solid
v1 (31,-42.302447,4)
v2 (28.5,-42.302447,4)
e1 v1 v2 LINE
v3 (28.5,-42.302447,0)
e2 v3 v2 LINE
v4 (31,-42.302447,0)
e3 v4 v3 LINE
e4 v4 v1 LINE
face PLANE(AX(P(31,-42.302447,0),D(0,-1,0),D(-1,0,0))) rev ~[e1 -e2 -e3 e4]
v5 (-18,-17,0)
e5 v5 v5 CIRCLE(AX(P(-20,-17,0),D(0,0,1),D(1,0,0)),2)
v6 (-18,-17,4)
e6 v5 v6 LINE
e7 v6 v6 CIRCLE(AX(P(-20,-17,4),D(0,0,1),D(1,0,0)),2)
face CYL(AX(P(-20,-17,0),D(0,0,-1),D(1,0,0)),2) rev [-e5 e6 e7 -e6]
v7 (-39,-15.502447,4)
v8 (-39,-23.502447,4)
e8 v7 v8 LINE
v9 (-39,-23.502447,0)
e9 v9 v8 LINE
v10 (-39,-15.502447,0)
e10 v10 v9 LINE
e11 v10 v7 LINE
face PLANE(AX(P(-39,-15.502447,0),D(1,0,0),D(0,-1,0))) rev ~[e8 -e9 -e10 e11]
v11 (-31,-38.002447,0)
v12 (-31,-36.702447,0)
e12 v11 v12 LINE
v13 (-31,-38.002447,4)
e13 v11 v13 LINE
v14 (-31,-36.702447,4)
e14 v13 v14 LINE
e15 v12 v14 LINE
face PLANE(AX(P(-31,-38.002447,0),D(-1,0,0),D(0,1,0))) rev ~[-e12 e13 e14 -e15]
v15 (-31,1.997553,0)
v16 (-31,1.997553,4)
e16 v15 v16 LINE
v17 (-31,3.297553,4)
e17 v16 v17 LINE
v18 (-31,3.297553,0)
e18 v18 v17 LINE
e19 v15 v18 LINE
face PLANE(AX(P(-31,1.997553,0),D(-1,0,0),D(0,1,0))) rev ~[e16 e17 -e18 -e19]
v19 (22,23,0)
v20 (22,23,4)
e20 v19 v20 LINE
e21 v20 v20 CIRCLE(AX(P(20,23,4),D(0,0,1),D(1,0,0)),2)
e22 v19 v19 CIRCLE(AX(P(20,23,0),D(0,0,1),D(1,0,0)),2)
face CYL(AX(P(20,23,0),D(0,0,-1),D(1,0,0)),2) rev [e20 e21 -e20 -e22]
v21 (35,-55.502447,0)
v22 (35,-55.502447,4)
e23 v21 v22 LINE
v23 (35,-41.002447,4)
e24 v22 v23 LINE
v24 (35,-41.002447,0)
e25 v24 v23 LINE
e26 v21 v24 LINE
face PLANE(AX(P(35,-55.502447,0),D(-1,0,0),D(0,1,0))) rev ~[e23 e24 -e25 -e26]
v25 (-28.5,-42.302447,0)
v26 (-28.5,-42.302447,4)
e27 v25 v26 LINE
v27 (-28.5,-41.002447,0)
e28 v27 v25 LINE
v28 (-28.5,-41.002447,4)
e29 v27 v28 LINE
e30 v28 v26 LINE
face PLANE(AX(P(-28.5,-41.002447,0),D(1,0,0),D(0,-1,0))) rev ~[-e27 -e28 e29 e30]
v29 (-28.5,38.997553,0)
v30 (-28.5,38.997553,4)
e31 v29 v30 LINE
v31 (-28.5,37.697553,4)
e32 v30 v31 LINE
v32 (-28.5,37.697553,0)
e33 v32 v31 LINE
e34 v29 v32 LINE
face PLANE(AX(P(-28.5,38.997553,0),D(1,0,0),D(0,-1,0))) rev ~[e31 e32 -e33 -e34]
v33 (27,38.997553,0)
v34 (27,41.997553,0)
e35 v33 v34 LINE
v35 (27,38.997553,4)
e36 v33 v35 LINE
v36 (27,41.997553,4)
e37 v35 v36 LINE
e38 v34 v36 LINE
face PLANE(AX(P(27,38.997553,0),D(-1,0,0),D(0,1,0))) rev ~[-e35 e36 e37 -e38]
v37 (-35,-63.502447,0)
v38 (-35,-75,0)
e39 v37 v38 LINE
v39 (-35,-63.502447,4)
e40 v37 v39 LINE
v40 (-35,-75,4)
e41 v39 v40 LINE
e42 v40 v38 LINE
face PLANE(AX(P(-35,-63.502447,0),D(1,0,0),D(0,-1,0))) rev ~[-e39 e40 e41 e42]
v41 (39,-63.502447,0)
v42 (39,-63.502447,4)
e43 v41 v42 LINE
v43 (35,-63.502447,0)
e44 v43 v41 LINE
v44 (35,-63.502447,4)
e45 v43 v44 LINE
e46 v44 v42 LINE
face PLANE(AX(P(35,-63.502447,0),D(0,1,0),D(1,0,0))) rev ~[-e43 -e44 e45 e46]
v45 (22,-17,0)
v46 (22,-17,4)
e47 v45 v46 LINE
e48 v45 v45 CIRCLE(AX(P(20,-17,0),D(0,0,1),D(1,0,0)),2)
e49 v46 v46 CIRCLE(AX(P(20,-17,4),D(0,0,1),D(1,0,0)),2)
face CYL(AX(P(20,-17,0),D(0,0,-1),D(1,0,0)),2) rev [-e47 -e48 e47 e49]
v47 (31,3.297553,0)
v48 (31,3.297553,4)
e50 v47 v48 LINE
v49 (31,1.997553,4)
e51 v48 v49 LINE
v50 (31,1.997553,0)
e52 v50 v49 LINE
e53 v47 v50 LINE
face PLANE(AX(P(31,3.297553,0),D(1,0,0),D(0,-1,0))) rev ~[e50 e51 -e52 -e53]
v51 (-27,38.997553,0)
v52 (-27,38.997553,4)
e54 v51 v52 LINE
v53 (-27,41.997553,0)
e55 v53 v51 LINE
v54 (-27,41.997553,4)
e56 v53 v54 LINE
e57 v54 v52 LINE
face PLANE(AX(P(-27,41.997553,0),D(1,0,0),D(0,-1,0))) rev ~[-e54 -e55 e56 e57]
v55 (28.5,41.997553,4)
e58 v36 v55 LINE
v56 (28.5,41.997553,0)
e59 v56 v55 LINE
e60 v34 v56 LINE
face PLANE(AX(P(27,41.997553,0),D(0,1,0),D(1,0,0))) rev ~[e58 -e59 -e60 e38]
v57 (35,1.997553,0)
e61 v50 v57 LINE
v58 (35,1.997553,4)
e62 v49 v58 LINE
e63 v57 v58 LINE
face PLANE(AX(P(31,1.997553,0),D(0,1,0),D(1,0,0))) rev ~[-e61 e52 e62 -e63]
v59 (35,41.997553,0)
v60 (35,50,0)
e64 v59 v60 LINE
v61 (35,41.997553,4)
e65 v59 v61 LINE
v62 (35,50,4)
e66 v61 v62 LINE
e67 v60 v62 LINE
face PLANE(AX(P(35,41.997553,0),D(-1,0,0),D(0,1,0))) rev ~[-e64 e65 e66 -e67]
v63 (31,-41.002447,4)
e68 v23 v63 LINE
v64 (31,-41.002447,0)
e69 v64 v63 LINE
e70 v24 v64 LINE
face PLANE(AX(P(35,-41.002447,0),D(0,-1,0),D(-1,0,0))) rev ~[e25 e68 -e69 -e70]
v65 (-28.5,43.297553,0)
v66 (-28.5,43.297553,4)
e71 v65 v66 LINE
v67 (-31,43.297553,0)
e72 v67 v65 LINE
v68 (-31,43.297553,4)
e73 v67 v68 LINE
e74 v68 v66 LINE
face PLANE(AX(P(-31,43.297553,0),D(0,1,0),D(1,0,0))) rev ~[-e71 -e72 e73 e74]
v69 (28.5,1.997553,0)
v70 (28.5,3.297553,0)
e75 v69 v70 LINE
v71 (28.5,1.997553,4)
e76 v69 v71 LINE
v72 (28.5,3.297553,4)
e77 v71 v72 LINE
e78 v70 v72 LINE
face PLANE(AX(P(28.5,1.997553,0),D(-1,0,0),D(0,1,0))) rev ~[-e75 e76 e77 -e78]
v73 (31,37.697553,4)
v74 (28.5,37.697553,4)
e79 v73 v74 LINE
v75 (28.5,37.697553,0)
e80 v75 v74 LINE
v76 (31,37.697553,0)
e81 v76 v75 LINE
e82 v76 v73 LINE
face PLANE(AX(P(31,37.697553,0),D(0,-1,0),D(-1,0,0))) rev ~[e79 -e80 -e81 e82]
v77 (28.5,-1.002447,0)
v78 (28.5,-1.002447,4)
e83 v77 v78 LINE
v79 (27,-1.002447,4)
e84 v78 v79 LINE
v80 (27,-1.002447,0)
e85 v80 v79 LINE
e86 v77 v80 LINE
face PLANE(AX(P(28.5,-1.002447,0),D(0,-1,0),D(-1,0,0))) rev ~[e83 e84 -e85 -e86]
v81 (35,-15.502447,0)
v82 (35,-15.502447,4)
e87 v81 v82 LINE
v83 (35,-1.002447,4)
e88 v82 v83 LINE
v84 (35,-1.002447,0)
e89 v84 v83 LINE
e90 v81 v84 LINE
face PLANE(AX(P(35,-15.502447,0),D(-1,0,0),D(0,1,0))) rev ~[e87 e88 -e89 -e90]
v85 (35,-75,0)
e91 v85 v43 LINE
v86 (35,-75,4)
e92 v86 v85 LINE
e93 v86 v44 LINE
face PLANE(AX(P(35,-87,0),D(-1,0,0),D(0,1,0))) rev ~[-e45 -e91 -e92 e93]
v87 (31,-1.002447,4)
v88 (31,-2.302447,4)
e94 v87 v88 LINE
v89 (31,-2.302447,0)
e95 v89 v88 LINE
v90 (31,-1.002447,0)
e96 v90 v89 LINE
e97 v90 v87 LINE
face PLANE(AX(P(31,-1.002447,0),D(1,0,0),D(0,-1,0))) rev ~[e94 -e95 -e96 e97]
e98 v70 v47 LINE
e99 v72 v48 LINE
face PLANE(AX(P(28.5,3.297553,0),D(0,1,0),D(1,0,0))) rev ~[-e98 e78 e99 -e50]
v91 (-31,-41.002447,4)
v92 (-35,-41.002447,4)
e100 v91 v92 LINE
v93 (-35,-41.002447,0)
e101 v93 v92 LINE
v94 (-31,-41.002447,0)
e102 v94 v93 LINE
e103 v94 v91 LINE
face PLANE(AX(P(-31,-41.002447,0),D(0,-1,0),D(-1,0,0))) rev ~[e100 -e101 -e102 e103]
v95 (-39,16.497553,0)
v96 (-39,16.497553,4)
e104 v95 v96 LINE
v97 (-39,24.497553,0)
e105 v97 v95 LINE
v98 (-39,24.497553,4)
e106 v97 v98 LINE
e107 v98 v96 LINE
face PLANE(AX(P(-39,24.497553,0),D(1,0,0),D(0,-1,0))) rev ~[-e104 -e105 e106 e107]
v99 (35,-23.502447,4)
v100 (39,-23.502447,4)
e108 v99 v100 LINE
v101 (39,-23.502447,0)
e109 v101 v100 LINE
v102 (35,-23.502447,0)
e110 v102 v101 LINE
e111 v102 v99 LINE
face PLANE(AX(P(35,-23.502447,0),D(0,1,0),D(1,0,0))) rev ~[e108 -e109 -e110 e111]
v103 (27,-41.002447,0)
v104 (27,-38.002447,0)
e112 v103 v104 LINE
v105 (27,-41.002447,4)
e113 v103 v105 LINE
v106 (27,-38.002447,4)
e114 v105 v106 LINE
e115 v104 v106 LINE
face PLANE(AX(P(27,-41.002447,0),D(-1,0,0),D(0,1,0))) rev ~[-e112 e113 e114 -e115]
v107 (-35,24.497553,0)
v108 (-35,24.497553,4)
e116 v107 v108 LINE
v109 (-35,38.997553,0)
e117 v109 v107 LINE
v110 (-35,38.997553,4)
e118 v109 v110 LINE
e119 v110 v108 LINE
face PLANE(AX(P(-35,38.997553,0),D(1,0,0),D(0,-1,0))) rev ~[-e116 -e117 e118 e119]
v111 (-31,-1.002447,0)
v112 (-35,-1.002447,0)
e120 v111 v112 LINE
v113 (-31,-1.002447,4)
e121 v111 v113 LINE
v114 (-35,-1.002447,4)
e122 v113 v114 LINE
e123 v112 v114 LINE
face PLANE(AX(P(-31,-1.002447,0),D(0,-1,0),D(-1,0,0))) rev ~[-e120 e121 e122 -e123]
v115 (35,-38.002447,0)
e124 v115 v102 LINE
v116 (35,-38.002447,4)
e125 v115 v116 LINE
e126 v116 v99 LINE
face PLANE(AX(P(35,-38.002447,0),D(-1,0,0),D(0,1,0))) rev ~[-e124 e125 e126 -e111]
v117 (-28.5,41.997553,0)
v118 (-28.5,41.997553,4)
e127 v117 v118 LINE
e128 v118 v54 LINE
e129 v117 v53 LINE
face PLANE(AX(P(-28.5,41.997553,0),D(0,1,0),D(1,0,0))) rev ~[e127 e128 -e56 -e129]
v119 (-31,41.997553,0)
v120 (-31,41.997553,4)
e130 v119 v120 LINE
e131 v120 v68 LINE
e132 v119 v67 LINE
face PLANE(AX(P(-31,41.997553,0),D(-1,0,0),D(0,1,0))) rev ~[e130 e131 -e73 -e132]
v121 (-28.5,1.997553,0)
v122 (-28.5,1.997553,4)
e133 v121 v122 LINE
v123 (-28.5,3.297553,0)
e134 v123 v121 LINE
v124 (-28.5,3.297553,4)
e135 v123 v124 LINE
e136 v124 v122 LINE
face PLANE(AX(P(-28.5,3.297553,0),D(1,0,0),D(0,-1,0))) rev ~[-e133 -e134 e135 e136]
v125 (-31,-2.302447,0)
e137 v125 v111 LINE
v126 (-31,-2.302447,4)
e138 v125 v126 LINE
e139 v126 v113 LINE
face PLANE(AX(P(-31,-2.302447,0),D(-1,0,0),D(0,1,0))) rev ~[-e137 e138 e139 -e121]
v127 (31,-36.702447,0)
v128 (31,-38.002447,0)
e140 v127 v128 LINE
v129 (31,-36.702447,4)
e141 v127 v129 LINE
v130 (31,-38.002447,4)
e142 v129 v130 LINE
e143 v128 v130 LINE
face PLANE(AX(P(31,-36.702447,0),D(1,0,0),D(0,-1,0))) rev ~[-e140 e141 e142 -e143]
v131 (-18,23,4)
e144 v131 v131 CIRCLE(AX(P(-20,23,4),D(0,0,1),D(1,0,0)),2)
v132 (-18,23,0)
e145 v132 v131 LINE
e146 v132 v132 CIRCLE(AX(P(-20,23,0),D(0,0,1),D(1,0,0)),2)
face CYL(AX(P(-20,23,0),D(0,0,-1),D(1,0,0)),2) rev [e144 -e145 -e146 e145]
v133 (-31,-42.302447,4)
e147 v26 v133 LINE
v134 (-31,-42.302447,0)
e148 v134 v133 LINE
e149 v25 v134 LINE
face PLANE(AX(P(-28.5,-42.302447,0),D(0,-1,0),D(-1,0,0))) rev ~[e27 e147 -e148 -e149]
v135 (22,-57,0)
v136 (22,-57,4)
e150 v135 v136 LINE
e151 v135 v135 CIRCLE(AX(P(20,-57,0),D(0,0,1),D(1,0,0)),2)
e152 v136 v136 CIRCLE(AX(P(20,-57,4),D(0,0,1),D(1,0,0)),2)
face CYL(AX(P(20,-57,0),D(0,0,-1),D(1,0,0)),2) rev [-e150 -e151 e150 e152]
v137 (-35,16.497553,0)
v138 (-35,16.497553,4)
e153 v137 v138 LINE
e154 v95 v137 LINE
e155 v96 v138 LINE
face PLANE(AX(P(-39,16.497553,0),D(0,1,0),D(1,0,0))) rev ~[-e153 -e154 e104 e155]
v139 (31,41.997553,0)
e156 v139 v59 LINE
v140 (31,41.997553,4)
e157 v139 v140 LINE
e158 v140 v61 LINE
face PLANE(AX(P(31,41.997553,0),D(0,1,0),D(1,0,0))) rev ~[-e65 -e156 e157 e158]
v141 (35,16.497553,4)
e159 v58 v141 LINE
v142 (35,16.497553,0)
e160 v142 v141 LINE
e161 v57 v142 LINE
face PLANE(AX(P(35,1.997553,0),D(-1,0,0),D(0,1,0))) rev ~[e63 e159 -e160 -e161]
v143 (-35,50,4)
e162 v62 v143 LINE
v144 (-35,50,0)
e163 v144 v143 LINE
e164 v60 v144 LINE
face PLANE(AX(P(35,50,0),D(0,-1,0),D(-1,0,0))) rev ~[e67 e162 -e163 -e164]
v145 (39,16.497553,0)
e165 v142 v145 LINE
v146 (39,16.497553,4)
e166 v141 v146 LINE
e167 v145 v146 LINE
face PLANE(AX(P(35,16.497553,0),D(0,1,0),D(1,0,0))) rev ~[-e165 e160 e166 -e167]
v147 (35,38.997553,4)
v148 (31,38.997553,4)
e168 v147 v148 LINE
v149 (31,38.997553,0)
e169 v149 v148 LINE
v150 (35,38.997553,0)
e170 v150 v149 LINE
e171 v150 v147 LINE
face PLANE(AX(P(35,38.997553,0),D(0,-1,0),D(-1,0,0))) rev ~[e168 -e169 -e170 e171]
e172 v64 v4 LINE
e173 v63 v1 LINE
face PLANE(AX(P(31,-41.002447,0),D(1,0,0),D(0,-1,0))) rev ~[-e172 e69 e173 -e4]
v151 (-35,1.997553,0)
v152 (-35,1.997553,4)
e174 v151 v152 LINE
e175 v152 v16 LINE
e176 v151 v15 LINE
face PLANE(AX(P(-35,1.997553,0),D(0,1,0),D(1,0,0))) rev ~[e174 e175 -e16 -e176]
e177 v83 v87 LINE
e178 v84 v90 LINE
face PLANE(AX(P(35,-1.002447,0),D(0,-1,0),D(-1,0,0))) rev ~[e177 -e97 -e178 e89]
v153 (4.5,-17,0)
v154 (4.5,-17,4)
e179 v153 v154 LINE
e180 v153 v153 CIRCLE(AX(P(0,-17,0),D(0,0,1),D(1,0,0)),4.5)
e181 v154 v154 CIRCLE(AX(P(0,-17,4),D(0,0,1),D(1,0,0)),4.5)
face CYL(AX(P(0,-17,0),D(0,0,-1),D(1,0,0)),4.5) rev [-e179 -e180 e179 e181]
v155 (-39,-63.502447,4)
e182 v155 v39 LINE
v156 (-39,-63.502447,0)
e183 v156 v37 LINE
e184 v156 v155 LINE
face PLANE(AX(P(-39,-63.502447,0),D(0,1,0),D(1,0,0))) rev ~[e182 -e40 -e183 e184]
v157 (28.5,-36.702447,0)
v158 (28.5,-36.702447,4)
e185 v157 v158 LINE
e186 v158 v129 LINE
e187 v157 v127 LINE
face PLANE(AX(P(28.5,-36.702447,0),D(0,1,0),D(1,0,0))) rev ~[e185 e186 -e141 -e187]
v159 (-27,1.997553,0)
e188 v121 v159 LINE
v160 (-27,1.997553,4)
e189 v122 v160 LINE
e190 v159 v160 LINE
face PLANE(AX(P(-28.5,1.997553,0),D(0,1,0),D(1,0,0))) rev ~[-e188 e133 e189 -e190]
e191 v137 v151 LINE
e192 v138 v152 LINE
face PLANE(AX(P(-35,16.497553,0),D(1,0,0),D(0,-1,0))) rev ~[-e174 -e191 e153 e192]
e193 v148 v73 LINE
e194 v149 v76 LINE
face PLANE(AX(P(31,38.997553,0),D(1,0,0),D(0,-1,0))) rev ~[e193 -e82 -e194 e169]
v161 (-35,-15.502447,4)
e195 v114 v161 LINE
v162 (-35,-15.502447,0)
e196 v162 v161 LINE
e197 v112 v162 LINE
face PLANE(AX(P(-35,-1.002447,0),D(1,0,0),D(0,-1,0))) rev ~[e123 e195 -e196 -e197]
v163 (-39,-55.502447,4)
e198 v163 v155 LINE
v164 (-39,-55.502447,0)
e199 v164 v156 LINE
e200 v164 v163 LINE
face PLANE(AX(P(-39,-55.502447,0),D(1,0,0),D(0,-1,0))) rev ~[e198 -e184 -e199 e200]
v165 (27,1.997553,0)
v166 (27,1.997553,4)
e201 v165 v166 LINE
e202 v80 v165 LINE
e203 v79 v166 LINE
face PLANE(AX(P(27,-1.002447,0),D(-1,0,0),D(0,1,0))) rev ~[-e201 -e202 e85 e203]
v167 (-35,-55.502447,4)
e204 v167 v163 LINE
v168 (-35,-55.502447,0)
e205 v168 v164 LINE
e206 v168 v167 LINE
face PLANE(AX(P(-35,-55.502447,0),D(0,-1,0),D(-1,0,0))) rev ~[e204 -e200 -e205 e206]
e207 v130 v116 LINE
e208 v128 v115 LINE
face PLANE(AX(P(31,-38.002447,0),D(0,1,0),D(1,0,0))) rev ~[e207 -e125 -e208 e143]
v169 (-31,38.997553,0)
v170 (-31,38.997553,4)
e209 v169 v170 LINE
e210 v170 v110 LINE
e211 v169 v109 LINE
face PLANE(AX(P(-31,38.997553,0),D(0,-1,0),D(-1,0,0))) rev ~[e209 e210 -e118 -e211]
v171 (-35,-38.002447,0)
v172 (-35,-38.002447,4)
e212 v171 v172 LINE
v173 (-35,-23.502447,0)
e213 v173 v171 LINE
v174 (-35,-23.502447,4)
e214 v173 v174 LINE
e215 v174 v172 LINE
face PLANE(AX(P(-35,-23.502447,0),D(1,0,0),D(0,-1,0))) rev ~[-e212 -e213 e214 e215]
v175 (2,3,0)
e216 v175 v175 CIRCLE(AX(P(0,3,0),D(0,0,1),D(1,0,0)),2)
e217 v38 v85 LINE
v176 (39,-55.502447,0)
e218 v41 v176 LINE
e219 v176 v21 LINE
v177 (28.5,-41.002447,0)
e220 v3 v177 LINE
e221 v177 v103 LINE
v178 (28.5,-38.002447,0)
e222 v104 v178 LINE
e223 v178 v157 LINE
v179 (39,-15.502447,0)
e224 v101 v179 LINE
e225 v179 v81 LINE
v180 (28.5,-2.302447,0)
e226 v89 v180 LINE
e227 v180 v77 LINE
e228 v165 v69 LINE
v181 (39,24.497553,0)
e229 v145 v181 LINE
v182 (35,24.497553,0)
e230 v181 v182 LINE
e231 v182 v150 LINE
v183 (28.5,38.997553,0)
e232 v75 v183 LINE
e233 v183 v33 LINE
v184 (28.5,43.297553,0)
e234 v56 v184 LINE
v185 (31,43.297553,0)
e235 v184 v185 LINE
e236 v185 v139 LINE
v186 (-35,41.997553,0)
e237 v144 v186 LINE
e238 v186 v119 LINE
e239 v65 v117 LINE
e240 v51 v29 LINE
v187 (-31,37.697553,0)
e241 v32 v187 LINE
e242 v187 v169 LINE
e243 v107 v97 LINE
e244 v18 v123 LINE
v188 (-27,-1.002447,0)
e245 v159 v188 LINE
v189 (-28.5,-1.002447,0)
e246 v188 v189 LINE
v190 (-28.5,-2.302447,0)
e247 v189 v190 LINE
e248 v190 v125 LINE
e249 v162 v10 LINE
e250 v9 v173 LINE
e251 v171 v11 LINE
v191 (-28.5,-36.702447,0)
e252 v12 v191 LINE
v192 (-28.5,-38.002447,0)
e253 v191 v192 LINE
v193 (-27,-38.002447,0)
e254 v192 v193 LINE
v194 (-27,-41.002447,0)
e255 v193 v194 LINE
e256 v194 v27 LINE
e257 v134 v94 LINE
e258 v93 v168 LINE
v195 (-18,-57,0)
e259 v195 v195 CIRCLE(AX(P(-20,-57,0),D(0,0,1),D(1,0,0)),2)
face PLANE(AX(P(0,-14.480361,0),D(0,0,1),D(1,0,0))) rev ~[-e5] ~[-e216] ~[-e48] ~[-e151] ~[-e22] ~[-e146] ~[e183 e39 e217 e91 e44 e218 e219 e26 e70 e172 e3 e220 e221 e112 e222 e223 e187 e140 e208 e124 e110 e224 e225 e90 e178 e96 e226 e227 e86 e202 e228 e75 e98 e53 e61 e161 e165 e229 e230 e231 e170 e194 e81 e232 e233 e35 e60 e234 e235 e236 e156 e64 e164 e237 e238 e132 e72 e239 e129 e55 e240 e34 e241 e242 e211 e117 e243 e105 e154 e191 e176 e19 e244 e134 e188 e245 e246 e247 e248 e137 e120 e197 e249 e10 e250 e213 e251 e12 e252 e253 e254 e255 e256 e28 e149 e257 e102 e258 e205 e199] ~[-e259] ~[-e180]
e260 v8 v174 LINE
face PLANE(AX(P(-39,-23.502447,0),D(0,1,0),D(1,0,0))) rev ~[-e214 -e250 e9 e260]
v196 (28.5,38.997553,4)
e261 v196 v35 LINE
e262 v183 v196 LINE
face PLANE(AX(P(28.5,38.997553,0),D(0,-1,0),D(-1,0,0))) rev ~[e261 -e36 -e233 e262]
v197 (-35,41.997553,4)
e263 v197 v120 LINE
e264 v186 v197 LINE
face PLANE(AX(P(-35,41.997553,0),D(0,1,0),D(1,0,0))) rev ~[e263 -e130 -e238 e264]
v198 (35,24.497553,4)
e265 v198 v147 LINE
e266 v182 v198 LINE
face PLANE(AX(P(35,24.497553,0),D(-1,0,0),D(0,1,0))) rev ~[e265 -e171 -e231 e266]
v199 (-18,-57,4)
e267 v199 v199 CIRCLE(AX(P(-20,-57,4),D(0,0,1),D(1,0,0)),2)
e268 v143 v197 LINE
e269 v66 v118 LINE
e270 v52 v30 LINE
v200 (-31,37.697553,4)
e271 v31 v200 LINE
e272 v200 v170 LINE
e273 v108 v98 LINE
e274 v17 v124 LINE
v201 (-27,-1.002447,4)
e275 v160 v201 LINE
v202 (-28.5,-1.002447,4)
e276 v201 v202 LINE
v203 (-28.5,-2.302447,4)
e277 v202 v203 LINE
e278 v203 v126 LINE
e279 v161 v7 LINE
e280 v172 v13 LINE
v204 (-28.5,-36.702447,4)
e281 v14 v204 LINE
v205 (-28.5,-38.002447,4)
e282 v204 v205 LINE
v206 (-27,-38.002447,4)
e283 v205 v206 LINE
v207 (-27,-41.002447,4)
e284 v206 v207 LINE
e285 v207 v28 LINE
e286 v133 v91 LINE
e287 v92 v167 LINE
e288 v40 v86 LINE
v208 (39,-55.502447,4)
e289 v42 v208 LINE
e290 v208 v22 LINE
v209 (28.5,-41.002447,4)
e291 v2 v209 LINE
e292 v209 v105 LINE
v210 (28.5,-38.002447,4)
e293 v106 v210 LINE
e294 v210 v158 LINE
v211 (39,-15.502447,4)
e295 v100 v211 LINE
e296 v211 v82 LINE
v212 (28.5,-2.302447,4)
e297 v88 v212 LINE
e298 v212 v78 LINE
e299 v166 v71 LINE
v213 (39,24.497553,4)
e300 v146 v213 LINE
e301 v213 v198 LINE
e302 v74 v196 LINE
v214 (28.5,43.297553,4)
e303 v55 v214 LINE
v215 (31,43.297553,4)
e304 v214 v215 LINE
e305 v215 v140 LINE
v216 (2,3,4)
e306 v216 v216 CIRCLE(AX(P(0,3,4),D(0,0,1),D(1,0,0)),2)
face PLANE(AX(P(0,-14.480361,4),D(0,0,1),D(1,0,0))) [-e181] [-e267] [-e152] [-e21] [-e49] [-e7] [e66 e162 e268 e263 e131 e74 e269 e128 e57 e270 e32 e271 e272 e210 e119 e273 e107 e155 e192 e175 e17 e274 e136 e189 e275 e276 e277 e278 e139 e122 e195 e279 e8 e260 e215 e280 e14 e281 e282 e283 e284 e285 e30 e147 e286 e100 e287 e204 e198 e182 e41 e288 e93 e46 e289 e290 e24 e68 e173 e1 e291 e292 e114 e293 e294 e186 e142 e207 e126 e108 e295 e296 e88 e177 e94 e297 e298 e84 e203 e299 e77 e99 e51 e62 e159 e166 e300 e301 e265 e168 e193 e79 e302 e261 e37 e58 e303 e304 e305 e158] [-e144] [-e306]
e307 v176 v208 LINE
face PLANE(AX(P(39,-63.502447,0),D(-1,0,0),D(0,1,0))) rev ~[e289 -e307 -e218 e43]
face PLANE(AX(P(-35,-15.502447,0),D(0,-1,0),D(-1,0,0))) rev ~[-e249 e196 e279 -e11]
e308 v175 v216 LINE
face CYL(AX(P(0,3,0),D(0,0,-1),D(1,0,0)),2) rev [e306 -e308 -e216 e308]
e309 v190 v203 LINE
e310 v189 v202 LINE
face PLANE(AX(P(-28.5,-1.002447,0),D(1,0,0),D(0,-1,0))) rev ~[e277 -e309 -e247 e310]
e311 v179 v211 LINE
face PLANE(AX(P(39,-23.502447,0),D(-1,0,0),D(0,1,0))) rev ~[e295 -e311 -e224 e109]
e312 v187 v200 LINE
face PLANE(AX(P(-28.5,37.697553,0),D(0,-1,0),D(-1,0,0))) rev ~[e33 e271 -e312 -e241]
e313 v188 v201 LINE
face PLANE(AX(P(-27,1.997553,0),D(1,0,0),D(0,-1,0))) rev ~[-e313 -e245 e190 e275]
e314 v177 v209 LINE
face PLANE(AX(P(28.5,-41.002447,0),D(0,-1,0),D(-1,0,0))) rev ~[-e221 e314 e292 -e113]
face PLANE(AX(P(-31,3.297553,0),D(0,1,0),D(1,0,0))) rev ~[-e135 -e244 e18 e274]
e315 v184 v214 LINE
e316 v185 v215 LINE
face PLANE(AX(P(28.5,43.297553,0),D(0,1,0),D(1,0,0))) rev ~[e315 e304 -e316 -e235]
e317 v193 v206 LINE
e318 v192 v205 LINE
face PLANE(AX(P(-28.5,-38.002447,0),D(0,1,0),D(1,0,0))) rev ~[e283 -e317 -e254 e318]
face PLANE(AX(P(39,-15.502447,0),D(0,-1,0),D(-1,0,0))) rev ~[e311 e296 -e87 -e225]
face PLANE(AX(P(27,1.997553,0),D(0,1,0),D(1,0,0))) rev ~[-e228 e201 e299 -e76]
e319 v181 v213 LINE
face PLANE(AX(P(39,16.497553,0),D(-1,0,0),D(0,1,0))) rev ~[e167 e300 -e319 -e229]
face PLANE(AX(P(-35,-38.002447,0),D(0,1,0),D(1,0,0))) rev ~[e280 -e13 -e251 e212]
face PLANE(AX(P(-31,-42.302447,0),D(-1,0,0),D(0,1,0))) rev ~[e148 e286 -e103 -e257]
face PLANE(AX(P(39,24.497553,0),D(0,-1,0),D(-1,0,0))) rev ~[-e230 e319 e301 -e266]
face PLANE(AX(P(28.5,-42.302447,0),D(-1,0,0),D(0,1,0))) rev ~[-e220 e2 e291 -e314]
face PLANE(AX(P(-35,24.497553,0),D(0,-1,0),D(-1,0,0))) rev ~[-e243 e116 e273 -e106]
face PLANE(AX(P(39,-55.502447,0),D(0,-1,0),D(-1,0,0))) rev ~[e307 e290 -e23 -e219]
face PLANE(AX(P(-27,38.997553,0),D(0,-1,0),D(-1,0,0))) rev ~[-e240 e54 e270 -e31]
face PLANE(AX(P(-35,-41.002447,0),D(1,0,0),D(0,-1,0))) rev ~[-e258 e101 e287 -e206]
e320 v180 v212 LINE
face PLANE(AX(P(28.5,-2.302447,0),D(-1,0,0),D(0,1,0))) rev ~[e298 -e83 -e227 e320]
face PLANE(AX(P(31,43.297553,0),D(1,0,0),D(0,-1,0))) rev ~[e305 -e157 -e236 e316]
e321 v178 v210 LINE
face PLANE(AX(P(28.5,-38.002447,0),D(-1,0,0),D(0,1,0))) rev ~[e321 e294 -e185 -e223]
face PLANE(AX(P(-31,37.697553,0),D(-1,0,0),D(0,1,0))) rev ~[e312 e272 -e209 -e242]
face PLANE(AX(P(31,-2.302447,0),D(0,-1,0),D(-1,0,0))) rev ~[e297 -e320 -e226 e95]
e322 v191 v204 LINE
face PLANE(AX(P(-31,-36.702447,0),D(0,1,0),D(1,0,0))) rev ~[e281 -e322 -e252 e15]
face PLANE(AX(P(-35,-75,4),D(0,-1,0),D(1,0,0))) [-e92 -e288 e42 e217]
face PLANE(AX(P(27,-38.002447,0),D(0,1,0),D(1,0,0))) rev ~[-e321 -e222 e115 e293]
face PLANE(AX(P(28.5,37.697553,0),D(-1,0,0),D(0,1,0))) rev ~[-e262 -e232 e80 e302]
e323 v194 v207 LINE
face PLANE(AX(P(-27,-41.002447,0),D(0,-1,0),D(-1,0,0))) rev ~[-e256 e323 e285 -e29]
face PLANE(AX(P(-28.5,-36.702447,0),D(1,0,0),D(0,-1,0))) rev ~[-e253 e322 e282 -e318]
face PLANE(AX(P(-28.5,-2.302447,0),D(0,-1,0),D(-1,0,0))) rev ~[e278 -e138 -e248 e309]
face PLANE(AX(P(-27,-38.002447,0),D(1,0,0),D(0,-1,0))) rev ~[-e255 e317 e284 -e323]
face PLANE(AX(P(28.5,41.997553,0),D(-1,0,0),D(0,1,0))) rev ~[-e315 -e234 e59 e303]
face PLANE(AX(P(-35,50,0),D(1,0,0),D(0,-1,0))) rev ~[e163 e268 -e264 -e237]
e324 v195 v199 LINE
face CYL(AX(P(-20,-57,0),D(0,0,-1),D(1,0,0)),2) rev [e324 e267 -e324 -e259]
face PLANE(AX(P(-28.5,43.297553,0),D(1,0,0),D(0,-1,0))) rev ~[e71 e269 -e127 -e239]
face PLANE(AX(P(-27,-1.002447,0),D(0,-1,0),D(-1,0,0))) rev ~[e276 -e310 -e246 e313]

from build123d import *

# Parameters (mm, degrees)
SKETCH_1_R          = 2
SKETCH_1_R_2        = 4.5
EXTRUDE_1_DEPTH     = 4
SKETCH_4_W          = 70
SKETCH_4_H          = 12
CUT_EXTRUDE_1_DEPTH = 4


with BuildPart() as part:
    # 草图1 → 凸台-拉伸1 (new body)
    with BuildSketch(Plane.XY):
        Polygon((35, 50), (-35, 50), (-35, 41.99755337), (-31, 41.99755337), (-31, 43.29755337), (-28.5, 43.29755337), (-28.5, 41.99755337), (-27, 41.99755337), (-27, 38.99755337), (-28.5, 38.99755337), (-28.5, 37.69755337), (-31, 37.69755337), (-31, 38.99755337), (-35, 38.99755337), (-35, 24.49755337), (-39, 24.49755337), (-39, 16.49755337), (-35, 16.49755337), (-35, 1.99755337), (-31, 1.99755337), (-31, 3.29755337), (-28.5, 3.29755337), (-28.5, 1.99755337), (-27, 1.99755337), (-27, -1.00244663), (-28.5, -1.00244663), (-28.5, -2.30244663), (-31, -2.30244663), (-31, -1.00244663), (-35, -1.00244663), (-35, -15.50244663), (-39, -15.50244663), (-39, -23.50244663), (-35, -23.50244663), (-35, -38.00244663), (-31, -38.00244663), (-31, -36.70244663), (-28.5, -36.70244663), (-28.5, -38.00244663), (-27, -38.00244663), (-27, -41.00244663), (-28.5, -41.00244663), (-28.5, -42.30244663), (-31, -42.30244663), (-31, -41.00244663), (-35, -41.00244663), (-35, -55.50244663), (-39, -55.50244663), (-39, -63.50244663), (-35, -63.50244663), (-35, -87), (35, -87), (35, -63.50244663), (39, -63.50244663), (39, -55.50244663), (35, -55.50244663), (35, -41.00244663), (31, -41.00244663), (31, -42.30244663), (28.5, -42.30244663), (28.5, -41.00244663), (27, -41.00244663), (27, -38.00244663), (28.5, -38.00244663), (28.5, -36.70244663), (31, -36.70244663), (31, -38.00244663), (35, -38.00244663), (35, -23.50244663), (39, -23.50244663), (39, -15.50244663), (35, -15.50244663), (35, -1.00244663), (31, -1.00244663), (31, -2.30244663), (28.5, -2.30244663), (28.5, -1.00244663), (27, -1.00244663), (27, 1.99755337), (28.5, 1.99755337), (28.5, 3.29755337), (31, 3.29755337), (31, 1.99755337), (35, 1.99755337), (35, 16.49755337), (39, 16.49755337), (39, 24.49755337), (35, 24.49755337), (35, 38.99755337), (31, 38.99755337), (31, 37.69755337), (28.5, 37.69755337), (28.5, 38.99755337), (27, 38.99755337), (27, 41.99755337), (28.5, 41.99755337), (28.5, 43.29755337), (31, 43.29755337), (31, 41.99755337), (35, 41.99755337), align=None)
        with Locations((-20, -57)):
            Circle(SKETCH_1_R, mode=Mode.SUBTRACT)
        with Locations((20, -57)):
            Circle(SKETCH_1_R, mode=Mode.SUBTRACT)
        with Locations((-20, -17)):
            Circle(SKETCH_1_R, mode=Mode.SUBTRACT)
        with Locations((0, 3)):
            Circle(SKETCH_1_R, mode=Mode.SUBTRACT)
        with Locations((-20, 23)):
            Circle(SKETCH_1_R, mode=Mode.SUBTRACT)
        with Locations((0, -17)):
            Circle(SKETCH_1_R_2, mode=Mode.SUBTRACT)
        with Locations((20, -17)):
            Circle(SKETCH_1_R, mode=Mode.SUBTRACT)
        with Locations((20, 23)):
            Circle(SKETCH_1_R, mode=Mode.SUBTRACT)
    extrude(amount=EXTRUDE_1_DEPTH)

    # 草图4 → 切除-拉伸1 (cut)
    with BuildSketch(Plane.XY.offset(4)):
        with Locations((0, -81)):
            Rectangle(SKETCH_4_W, SKETCH_4_H)
    extrude(amount=-CUT_EXTRUDE_1_DEPTH, mode=Mode.SUBTRACT)


solid = part.part
